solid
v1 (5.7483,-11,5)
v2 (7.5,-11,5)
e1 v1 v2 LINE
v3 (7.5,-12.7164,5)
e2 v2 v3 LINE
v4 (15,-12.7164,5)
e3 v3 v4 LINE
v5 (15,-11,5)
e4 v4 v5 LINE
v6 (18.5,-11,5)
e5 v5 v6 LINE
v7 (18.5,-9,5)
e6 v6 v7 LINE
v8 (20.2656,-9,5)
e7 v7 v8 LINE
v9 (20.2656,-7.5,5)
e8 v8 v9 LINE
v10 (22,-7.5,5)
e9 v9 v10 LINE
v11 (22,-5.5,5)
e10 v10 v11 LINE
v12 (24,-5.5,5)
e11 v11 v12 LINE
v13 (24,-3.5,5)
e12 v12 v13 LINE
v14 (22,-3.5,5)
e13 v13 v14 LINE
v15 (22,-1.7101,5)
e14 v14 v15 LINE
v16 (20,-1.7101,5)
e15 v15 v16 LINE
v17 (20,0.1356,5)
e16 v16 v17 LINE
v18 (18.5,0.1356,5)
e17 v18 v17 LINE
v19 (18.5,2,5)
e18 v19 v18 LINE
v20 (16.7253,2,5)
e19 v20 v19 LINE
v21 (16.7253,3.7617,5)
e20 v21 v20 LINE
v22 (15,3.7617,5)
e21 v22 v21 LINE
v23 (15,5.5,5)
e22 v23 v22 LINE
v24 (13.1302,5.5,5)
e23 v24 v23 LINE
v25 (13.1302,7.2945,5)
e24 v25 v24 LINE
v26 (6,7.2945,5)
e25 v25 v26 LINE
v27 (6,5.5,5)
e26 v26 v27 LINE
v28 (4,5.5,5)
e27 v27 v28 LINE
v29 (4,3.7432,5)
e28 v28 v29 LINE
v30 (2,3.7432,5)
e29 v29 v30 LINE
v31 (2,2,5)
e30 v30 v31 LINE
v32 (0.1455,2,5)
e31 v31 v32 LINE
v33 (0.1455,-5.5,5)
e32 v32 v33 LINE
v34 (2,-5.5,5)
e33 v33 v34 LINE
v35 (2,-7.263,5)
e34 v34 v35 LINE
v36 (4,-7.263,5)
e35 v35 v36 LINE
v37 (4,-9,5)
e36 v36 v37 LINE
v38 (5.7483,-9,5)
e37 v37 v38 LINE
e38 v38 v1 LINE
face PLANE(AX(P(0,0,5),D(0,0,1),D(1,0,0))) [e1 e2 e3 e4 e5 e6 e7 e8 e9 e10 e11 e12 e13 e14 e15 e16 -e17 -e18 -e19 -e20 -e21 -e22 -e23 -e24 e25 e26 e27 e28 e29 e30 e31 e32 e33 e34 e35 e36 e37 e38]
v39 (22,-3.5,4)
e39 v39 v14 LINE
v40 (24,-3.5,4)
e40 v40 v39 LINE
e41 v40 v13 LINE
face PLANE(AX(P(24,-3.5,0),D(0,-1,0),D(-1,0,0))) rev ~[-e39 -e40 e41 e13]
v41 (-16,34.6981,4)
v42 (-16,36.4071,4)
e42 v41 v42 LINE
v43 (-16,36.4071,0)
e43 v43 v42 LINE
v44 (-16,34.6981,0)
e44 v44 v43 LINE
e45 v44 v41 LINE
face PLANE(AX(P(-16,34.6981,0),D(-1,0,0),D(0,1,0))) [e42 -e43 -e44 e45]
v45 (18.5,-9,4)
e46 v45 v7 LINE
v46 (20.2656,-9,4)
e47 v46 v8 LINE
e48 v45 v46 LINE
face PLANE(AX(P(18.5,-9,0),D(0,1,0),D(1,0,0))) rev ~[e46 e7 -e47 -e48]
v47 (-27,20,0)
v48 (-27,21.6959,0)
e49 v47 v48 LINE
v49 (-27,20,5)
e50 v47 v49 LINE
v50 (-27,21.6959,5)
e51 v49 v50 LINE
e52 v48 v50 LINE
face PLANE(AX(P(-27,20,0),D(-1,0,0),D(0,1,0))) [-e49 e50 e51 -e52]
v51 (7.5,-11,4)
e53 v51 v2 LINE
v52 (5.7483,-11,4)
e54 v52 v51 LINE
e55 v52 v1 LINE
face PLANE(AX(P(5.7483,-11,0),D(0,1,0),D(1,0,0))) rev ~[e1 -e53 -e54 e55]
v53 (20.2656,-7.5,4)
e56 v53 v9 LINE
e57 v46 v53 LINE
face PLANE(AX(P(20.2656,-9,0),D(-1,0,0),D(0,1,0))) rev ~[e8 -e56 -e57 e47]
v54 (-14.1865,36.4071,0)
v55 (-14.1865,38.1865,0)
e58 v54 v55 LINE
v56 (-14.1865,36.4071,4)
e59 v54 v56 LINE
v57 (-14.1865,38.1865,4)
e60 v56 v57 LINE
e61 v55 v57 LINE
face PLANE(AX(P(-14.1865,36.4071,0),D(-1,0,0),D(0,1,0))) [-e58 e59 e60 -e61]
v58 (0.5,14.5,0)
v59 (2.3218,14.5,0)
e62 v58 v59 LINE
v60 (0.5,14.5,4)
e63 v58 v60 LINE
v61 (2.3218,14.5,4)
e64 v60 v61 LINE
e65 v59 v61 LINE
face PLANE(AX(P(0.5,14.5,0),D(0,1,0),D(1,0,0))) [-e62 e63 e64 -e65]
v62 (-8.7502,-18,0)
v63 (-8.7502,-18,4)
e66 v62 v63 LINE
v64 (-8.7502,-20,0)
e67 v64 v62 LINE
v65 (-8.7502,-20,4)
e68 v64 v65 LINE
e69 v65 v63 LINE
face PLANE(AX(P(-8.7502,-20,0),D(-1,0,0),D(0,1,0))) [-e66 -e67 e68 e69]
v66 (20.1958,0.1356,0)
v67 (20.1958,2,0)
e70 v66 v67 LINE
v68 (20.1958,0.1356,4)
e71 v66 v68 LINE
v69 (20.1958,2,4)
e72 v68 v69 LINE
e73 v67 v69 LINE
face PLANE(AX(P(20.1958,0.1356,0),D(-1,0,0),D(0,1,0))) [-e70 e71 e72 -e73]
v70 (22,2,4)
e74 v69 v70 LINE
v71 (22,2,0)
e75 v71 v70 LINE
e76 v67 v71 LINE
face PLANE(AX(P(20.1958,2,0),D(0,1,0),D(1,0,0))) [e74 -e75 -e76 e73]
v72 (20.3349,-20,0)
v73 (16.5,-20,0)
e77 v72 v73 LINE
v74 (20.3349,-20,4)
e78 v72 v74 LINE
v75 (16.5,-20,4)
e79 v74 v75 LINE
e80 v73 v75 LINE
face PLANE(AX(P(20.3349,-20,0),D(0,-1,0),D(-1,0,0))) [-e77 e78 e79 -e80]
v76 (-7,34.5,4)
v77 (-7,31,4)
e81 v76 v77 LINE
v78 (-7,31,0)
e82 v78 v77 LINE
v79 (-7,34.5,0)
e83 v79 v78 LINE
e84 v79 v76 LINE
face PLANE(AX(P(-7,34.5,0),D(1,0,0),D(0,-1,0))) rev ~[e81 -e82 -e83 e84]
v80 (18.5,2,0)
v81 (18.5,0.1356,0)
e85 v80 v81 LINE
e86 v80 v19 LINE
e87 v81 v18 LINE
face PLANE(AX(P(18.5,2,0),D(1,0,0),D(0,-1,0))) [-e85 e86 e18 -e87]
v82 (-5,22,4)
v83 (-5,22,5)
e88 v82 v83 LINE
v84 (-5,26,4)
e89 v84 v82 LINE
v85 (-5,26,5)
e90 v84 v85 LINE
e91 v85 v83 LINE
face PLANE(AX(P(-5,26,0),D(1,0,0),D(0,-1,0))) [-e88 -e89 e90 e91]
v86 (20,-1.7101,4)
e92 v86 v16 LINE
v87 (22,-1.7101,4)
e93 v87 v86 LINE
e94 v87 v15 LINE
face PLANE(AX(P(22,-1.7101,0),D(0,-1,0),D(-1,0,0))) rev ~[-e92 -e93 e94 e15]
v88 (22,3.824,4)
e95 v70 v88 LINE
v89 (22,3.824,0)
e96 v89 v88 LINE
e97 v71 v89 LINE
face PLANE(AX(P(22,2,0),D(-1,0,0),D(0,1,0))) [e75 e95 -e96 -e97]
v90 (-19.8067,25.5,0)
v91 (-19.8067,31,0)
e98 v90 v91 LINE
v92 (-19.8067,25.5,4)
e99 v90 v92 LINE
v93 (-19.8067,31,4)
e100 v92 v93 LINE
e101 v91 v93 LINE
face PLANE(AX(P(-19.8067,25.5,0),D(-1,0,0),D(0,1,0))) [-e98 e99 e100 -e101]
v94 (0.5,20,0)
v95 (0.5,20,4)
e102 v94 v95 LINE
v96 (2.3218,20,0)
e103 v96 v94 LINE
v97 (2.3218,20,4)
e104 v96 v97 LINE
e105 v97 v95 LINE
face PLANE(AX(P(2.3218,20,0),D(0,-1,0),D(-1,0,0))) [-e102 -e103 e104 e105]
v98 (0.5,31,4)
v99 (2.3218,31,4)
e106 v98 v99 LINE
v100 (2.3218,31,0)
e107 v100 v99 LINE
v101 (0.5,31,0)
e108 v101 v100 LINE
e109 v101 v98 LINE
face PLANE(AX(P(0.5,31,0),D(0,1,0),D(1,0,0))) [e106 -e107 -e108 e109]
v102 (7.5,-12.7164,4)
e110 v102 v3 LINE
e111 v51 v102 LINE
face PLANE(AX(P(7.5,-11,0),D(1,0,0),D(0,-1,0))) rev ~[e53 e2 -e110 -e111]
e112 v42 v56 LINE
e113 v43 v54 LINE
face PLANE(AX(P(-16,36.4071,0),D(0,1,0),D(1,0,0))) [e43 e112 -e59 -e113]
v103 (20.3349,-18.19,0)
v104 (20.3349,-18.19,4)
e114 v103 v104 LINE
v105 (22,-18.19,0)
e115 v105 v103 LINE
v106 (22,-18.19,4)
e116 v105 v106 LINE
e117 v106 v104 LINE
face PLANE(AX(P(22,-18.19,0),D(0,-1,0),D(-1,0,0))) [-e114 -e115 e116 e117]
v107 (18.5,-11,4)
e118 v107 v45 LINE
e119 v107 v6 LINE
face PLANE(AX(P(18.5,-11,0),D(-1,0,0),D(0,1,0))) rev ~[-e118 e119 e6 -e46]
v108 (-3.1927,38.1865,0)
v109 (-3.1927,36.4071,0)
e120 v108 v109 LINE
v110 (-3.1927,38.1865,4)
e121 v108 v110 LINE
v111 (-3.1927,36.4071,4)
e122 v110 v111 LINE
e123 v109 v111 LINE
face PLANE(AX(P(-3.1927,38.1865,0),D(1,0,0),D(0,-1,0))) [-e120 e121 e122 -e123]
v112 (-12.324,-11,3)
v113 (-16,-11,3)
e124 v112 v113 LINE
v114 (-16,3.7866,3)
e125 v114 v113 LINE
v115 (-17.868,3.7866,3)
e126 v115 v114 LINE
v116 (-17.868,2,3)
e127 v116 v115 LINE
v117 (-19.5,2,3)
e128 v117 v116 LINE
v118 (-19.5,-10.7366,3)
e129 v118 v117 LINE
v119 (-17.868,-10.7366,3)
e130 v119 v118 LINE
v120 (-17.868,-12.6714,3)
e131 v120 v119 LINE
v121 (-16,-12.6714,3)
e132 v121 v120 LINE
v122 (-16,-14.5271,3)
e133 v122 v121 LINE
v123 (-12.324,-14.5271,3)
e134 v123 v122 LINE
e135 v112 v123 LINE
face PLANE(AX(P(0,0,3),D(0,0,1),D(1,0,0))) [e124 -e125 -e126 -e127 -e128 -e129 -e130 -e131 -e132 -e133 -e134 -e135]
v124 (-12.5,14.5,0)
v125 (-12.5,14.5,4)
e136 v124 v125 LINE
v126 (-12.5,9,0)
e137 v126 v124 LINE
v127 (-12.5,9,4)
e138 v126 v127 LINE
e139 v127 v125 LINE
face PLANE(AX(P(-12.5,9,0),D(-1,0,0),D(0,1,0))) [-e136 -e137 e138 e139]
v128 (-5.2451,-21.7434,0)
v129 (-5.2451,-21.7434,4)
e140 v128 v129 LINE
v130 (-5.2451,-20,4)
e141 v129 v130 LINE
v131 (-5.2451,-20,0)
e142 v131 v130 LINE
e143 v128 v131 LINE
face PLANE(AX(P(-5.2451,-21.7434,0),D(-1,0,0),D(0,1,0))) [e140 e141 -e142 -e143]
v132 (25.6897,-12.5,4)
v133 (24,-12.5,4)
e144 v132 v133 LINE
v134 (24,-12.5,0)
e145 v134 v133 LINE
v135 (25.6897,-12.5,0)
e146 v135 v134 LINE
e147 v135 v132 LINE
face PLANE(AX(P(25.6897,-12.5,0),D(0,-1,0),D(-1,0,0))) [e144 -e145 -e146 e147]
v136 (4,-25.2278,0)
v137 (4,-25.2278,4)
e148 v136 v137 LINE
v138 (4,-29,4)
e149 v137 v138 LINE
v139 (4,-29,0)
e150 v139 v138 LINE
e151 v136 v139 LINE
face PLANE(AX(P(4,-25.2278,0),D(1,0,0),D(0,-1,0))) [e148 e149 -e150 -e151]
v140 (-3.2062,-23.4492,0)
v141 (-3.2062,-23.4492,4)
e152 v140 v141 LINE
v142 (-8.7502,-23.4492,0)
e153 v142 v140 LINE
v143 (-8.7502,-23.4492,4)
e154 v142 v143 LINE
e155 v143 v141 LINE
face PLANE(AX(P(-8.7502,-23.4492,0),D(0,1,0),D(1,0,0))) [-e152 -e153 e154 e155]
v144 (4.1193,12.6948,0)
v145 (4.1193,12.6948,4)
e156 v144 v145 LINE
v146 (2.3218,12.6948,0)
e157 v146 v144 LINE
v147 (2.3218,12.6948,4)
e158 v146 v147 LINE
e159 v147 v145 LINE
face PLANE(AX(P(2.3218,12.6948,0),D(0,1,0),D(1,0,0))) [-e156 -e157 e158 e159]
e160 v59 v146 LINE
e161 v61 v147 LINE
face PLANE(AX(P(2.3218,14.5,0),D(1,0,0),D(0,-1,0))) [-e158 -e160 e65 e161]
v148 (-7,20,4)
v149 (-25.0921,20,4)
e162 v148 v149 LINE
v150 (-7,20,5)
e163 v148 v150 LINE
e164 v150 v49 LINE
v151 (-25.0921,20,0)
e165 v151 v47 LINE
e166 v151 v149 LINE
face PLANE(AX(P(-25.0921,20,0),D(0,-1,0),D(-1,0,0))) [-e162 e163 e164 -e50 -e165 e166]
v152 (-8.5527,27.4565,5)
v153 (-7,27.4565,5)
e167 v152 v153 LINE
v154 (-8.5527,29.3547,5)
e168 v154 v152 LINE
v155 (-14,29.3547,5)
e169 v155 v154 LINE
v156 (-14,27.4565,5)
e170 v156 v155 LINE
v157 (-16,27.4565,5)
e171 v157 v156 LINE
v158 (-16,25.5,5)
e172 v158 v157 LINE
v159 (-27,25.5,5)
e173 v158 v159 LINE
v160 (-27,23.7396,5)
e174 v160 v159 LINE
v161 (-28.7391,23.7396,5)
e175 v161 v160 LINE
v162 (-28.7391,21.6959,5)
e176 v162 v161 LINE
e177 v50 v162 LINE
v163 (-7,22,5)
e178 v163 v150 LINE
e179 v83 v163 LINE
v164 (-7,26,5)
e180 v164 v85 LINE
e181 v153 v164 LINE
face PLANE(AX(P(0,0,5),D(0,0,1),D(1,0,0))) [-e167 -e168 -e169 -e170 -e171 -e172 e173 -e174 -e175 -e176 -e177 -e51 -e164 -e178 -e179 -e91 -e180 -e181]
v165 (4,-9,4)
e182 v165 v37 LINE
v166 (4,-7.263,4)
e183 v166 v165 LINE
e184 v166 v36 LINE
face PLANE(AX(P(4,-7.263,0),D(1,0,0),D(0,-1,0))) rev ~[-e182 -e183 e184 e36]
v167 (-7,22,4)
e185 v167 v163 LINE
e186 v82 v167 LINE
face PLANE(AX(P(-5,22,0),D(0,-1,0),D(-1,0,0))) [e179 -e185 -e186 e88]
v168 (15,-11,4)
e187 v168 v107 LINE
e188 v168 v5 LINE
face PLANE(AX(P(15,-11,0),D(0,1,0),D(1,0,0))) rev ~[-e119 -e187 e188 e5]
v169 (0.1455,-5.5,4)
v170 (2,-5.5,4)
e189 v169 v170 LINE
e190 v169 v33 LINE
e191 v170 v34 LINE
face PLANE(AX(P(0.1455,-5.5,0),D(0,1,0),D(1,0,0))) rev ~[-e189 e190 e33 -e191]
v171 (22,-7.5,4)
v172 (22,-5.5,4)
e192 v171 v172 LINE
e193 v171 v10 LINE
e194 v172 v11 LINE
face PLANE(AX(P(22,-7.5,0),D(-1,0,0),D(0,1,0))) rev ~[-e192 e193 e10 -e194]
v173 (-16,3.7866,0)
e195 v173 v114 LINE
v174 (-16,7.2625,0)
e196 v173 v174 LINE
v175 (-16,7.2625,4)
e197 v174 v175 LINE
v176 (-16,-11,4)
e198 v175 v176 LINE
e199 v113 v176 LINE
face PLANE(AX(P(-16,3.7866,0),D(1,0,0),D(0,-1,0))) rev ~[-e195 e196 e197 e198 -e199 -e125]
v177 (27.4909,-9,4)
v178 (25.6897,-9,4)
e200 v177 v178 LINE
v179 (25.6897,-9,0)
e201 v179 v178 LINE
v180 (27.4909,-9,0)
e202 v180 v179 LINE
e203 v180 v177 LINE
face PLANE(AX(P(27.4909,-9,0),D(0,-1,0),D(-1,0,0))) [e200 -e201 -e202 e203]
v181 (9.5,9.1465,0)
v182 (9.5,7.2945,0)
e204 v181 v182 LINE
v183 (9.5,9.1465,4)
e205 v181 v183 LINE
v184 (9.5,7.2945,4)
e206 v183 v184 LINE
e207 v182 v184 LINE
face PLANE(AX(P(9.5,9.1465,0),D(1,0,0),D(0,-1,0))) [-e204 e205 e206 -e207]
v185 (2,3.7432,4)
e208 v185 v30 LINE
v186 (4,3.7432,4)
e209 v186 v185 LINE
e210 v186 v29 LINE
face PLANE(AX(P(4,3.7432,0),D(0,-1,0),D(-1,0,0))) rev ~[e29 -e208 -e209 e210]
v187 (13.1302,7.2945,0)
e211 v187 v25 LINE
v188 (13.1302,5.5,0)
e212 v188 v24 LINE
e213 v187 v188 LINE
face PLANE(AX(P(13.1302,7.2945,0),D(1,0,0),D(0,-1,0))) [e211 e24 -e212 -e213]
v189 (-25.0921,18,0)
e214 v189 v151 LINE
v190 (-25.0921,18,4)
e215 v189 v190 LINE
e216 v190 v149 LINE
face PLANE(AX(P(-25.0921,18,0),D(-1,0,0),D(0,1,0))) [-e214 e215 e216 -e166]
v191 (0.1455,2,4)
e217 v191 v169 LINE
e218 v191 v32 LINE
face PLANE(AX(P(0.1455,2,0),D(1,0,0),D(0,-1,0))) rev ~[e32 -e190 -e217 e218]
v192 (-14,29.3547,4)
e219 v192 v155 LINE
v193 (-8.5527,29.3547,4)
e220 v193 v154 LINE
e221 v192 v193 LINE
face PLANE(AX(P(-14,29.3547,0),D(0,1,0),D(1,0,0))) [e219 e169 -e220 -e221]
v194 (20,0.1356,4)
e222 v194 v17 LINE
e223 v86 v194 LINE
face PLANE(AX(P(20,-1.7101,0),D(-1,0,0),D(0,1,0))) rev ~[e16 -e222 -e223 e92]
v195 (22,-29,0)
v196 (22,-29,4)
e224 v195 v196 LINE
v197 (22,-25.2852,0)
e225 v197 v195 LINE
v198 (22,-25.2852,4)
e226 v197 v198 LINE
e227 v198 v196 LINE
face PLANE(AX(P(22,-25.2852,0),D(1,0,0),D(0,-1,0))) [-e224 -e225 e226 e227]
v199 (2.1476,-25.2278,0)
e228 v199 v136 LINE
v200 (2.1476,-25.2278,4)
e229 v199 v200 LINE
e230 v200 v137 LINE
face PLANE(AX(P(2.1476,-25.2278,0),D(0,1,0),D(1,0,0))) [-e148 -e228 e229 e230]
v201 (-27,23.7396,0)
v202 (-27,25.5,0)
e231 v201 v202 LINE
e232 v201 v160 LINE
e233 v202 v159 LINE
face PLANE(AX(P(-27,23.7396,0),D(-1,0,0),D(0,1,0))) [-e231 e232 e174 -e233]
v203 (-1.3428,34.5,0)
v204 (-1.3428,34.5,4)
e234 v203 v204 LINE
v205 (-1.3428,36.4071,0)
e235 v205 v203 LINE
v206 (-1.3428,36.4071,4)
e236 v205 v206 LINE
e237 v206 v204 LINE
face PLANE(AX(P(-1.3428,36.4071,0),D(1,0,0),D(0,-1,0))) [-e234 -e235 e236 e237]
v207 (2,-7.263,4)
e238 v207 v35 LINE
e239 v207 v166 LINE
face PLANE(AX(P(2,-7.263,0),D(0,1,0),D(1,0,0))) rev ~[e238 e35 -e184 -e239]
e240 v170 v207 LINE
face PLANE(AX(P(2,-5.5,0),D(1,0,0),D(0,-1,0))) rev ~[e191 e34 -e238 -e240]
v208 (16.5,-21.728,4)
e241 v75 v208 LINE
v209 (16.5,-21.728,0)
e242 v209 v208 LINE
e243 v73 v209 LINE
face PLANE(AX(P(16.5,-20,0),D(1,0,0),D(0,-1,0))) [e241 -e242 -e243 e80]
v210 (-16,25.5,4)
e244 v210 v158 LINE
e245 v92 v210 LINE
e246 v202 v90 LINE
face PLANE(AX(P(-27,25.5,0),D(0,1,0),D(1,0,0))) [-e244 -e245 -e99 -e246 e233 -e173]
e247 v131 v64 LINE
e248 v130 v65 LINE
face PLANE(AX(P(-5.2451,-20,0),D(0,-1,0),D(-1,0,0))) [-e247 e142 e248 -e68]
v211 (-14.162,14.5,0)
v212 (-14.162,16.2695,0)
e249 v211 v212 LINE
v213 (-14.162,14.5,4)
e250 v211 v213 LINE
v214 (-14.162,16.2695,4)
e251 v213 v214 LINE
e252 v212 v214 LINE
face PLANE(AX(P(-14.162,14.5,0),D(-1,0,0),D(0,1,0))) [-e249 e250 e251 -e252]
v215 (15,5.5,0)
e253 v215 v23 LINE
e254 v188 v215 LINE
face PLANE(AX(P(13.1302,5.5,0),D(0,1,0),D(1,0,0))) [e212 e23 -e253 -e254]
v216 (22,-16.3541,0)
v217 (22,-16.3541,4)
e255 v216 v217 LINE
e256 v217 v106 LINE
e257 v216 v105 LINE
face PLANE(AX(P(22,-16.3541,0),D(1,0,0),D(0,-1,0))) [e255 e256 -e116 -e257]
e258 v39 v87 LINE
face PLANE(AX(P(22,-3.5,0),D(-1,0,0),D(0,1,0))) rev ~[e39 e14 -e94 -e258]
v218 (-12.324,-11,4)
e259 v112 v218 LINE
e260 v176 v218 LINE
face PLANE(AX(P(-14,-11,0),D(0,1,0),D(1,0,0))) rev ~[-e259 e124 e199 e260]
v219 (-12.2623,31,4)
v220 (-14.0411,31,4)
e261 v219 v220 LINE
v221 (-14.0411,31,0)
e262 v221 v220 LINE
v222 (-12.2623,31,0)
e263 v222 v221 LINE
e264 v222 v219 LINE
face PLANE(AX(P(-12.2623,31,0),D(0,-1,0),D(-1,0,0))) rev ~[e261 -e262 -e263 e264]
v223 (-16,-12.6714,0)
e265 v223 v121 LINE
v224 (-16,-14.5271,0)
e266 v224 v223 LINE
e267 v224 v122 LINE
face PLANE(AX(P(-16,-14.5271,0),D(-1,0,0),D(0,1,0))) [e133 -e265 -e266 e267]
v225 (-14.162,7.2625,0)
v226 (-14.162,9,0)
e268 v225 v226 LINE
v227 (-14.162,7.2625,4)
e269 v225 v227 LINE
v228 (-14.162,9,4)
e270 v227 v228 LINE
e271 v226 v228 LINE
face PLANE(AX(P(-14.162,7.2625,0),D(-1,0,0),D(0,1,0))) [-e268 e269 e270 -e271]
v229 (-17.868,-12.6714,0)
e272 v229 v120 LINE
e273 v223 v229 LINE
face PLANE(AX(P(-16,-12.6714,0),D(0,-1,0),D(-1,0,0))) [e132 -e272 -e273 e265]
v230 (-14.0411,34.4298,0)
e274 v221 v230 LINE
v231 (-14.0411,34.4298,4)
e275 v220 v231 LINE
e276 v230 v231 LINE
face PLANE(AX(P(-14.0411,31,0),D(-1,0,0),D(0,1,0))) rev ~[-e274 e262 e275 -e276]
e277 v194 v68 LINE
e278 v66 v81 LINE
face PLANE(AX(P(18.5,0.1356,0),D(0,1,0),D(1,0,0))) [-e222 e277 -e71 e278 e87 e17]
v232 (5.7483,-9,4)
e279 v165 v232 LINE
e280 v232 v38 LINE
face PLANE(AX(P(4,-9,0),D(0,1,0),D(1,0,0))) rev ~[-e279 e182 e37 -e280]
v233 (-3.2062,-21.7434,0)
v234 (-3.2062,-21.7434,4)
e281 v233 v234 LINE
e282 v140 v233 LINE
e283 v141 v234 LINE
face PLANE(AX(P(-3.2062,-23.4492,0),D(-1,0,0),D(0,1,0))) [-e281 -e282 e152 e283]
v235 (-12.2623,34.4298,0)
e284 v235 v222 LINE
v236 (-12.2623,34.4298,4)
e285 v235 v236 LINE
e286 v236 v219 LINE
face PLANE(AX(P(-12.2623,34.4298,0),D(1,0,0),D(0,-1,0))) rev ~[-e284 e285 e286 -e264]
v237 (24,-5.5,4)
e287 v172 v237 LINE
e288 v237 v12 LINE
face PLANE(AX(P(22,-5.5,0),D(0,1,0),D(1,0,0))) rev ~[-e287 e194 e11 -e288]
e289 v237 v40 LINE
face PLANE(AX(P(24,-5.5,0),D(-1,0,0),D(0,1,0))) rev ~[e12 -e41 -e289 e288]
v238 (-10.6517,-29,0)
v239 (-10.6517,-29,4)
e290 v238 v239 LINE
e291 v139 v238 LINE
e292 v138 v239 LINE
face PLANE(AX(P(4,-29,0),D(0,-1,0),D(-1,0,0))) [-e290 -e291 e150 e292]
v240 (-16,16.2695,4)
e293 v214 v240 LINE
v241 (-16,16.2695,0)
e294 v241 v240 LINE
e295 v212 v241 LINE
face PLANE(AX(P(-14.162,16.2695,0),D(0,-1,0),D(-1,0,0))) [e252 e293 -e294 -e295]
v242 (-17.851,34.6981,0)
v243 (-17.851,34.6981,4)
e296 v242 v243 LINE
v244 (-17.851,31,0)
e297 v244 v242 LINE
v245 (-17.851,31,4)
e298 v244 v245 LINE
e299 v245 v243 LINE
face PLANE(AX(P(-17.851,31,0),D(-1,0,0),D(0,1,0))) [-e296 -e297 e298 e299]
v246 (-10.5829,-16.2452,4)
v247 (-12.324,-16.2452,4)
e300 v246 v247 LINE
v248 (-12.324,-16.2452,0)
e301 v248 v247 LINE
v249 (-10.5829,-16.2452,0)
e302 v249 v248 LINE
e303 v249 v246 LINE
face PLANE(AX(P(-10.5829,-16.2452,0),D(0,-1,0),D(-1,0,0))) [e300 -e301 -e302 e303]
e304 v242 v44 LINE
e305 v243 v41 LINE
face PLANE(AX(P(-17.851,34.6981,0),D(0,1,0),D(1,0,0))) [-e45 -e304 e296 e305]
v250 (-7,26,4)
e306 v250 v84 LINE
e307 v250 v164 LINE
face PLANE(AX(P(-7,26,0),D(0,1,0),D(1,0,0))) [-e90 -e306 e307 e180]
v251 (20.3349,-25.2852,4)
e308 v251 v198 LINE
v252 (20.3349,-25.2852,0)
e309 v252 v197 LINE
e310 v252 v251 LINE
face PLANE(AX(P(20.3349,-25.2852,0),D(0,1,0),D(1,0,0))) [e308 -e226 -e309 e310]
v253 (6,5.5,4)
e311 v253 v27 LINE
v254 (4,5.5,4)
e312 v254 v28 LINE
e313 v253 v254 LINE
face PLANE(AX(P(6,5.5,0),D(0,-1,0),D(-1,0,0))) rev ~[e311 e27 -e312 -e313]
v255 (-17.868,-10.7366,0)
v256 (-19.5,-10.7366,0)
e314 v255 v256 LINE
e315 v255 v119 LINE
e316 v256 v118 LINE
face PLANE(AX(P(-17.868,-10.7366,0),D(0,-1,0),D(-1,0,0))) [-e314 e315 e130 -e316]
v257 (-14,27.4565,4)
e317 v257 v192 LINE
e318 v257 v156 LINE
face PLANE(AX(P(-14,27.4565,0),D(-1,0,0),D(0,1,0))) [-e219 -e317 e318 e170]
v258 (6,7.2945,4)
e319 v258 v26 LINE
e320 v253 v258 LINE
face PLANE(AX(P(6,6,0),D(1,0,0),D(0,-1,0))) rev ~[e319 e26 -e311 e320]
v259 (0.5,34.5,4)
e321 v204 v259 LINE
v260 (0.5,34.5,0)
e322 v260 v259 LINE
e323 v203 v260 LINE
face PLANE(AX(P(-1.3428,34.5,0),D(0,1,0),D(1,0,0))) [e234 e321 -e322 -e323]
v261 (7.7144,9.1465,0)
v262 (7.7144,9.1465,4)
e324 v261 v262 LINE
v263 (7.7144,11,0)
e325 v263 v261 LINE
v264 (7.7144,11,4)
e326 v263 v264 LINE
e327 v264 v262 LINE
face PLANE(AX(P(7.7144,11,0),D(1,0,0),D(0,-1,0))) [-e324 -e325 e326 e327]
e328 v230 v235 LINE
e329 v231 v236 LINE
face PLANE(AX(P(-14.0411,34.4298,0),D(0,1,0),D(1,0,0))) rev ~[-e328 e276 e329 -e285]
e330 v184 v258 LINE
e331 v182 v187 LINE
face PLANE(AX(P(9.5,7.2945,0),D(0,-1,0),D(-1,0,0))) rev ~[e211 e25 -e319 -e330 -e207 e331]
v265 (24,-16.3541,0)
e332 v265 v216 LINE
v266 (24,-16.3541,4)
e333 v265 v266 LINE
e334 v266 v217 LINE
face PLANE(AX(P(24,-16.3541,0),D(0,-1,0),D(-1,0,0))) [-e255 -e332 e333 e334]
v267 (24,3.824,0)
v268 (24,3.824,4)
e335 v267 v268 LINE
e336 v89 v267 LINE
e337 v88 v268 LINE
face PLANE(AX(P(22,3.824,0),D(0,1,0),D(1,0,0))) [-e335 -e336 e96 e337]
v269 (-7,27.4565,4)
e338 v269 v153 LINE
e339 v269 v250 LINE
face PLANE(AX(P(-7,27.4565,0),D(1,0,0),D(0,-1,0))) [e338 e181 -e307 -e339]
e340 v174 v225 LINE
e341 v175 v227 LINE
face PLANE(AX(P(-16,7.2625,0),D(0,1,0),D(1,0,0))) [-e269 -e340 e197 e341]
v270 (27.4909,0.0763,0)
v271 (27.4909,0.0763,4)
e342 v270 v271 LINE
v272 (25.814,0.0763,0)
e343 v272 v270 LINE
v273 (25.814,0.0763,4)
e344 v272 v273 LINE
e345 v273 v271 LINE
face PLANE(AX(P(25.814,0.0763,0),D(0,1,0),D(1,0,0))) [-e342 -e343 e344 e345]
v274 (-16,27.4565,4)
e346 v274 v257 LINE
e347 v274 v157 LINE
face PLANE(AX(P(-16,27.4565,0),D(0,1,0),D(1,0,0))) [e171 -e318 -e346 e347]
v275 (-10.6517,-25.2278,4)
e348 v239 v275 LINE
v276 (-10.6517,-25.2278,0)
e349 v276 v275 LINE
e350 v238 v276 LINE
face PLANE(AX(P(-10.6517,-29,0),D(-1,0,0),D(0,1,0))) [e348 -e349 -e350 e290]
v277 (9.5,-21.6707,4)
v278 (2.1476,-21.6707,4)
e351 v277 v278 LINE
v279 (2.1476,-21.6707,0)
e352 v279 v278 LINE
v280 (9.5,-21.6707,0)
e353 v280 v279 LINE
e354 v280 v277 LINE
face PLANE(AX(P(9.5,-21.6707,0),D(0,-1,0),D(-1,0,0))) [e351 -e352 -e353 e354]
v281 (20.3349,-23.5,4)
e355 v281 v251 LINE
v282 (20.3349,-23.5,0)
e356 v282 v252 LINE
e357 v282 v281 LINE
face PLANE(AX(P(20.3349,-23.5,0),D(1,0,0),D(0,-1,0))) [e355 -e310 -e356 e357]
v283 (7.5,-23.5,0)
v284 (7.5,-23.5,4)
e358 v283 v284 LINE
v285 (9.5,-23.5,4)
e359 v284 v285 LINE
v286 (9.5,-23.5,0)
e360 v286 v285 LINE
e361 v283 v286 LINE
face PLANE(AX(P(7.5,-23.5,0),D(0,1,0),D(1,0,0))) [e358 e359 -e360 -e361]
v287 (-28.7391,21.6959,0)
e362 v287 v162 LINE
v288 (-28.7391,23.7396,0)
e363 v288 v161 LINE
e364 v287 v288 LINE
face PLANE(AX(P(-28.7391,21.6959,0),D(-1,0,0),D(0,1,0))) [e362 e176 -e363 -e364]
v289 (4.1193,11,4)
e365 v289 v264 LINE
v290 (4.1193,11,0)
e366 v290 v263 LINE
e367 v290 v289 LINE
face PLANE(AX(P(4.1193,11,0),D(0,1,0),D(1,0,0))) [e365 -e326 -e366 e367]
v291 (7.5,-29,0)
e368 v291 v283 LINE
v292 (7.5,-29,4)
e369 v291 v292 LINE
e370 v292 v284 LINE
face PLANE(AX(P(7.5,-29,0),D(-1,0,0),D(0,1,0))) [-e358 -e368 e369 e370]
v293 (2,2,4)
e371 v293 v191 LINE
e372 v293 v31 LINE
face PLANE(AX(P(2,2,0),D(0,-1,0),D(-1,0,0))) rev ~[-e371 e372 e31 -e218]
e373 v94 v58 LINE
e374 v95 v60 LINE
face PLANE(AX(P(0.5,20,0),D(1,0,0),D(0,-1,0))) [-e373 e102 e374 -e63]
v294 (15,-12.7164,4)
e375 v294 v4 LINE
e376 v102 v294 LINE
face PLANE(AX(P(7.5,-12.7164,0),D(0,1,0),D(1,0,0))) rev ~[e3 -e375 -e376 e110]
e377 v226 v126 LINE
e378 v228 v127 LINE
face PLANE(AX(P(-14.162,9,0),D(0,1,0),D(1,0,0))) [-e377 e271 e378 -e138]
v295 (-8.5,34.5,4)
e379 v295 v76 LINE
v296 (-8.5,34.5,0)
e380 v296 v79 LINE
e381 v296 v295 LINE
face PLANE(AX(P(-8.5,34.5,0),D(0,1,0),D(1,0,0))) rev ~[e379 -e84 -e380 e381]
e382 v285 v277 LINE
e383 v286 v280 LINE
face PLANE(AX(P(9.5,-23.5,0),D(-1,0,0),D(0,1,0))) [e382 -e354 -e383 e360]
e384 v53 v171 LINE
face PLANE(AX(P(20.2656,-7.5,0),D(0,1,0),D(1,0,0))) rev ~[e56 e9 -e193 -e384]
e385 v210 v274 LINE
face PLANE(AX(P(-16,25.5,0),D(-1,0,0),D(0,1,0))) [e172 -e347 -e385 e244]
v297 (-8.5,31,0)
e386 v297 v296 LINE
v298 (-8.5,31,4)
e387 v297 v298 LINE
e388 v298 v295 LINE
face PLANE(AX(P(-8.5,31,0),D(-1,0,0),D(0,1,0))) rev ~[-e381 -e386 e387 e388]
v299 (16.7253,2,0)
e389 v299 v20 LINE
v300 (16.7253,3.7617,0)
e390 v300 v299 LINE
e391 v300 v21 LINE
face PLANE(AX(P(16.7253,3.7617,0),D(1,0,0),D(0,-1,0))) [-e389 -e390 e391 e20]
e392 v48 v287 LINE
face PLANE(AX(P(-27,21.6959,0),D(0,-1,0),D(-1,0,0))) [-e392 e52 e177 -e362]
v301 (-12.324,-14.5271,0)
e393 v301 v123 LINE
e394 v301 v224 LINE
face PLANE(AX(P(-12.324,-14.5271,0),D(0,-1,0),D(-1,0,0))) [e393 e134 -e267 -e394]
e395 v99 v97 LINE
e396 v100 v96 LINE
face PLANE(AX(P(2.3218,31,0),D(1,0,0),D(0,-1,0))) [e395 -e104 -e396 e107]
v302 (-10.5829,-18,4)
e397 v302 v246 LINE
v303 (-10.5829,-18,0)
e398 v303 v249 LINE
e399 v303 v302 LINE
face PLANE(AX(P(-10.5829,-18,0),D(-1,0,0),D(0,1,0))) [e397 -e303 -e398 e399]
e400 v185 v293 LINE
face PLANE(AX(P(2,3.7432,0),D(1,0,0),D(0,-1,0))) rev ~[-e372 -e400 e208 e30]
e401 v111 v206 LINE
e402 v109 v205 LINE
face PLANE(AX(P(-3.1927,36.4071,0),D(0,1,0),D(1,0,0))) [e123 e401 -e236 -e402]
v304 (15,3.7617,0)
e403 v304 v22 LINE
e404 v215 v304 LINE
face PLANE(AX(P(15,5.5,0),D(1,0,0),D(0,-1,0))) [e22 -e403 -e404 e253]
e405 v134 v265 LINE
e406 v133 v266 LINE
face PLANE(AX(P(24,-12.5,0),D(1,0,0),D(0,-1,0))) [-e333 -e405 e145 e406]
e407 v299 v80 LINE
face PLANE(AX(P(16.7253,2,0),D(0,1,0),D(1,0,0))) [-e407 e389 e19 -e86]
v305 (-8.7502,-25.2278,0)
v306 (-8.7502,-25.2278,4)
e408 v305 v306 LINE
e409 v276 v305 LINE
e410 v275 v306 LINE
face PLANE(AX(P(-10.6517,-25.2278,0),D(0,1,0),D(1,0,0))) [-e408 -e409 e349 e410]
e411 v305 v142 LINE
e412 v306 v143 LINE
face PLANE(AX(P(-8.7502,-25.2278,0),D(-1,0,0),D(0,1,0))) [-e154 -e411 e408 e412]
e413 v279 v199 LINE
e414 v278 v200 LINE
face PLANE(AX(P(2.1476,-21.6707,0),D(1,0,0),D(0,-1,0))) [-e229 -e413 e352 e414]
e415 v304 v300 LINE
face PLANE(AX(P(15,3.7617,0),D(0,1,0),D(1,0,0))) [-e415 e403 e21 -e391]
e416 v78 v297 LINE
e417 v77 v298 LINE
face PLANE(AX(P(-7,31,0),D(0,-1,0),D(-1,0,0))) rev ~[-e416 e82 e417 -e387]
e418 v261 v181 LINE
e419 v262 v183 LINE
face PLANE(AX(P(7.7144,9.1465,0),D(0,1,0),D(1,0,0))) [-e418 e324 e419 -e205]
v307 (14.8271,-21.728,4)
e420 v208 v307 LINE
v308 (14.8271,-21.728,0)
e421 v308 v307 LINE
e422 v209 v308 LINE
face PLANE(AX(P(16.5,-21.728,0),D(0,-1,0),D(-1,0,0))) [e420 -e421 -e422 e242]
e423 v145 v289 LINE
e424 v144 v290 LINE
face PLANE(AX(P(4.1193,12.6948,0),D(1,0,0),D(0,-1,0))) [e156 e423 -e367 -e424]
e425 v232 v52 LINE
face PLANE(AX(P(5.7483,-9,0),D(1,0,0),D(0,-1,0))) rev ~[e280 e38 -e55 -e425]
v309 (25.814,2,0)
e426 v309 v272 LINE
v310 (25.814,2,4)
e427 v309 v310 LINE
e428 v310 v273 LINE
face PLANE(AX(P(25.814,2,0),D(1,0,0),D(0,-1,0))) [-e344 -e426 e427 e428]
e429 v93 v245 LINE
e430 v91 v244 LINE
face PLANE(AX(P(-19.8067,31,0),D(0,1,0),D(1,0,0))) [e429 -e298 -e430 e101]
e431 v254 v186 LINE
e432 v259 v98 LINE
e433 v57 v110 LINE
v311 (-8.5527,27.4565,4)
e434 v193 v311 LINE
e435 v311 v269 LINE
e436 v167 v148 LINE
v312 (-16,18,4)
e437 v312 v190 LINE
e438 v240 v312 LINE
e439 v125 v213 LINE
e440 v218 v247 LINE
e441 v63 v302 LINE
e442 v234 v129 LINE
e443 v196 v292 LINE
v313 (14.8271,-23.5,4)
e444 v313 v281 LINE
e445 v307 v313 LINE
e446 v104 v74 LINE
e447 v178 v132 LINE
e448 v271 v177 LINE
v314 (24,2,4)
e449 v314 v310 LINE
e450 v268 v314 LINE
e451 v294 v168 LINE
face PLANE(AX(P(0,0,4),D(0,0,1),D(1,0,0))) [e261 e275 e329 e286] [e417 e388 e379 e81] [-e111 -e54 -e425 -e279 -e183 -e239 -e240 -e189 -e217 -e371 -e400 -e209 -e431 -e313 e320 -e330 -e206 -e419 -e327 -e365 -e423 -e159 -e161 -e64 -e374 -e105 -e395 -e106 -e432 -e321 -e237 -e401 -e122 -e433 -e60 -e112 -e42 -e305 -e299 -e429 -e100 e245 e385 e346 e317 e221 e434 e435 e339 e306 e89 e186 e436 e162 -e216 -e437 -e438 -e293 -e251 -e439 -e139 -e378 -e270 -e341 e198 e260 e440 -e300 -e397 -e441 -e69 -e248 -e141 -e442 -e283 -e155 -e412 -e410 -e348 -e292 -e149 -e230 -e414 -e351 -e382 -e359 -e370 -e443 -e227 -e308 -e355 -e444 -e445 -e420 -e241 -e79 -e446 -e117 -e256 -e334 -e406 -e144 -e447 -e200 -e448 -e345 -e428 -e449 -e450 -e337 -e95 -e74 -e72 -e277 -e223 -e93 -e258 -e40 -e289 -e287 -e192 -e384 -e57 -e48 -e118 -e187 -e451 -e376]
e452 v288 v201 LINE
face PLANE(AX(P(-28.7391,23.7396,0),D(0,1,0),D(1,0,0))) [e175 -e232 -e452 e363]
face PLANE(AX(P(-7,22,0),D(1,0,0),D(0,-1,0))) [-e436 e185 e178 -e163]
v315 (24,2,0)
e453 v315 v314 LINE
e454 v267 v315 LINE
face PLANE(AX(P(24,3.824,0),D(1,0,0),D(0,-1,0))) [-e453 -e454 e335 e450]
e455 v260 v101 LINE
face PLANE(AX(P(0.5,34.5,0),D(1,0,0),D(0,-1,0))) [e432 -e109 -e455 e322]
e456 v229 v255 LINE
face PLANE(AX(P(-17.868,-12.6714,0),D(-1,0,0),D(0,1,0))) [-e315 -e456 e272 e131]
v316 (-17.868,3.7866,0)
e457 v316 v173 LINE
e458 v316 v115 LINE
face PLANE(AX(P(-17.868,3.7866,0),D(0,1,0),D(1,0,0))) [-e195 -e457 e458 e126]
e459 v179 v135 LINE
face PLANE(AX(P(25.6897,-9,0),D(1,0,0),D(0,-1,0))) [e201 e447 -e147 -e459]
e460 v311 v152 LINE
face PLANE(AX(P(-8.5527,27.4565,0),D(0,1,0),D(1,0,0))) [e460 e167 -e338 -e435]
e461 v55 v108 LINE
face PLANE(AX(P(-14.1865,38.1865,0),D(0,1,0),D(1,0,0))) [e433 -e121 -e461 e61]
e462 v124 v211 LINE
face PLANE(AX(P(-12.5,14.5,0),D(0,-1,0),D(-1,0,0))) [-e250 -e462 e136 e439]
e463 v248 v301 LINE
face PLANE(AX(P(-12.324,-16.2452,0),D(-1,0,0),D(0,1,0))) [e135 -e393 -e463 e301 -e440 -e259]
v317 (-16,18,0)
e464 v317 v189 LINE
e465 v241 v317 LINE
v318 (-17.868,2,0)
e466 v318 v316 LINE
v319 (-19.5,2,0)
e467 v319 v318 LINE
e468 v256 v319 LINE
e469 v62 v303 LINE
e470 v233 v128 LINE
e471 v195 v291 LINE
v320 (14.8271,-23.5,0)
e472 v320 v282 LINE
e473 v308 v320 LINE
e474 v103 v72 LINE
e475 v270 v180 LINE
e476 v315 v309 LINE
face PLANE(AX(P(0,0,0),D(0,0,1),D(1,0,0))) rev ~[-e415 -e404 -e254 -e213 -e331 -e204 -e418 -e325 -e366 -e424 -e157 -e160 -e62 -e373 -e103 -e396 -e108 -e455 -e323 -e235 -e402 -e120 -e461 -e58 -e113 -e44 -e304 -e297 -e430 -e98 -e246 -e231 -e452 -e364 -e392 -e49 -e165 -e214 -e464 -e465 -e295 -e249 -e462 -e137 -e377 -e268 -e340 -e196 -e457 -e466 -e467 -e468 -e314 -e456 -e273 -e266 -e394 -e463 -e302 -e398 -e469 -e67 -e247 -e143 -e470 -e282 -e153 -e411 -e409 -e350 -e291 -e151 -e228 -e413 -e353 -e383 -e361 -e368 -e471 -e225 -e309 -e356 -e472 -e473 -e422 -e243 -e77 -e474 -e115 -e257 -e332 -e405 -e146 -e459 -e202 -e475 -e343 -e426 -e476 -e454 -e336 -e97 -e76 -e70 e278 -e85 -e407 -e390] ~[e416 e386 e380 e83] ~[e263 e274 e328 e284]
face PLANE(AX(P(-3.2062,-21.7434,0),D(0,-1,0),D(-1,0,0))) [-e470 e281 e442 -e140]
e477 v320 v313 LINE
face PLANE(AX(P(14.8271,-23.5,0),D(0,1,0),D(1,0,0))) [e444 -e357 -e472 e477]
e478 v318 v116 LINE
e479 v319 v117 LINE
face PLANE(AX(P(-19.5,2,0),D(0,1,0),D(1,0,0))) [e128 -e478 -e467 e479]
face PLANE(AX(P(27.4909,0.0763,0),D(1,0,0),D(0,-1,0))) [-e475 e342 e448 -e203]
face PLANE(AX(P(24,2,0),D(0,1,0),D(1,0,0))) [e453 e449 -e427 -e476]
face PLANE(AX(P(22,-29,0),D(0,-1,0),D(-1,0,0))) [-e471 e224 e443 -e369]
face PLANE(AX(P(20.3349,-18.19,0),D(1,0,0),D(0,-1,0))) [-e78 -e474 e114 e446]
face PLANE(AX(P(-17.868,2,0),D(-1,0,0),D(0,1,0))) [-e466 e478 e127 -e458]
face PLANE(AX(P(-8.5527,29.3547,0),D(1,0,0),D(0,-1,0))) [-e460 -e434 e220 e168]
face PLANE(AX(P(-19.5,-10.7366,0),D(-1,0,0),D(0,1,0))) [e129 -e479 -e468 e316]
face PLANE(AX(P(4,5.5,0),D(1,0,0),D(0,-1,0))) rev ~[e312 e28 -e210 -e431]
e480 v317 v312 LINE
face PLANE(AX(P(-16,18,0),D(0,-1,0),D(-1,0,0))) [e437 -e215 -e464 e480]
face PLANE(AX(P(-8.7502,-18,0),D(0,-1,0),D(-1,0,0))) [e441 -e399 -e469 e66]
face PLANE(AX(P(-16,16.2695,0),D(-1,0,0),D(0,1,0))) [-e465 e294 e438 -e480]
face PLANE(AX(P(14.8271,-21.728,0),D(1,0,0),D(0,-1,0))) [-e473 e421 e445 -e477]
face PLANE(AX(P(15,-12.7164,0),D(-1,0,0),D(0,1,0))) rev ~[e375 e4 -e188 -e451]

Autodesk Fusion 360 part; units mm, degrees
sketch "duck" plane through (0, 0, 0) normal (0, 0, 1) x (1, 0, 0)
  line L0 (27.4909, 0.0763) -> (27.4909, -9)
  line L1 (27.4909, -9) -> (25.6897, -9)
  line L2 (25.6897, -9) -> (25.6897, -12.5)
  line L3 (25.6897, -12.5) -> (24, -12.5)
  line L4 (24, -12.5) -> (24, -16.3541)
  line L5 (24, -16.3541) -> (22, -16.3541)
  line L6 (22, -16.3541) -> (22, -18.19)
  line L7 (22, -18.19) -> (20.3349, -18.19)
  line L8 (20.3349, -18.19) -> (20.3349, -20)
  line L9 (20.3349, -20) -> (16.5, -20)
  line L10 (16.5, -20) -> (16.5, -21.728)
  line L11 (16.5, -21.728) -> (14.8271, -21.728)
  line L12 (14.8271, -21.728) -> (14.8271, -23.5)
  line L13 (14.8271, -23.5) -> (20.3349, -23.5)
  line L14 (20.3349, -23.5) -> (20.3349, -25.2852)
  line L15 (20.3349, -25.2852) -> (22, -25.2852)
  line L16 (22, -25.2852) -> (22, -29)
  line L17 (22, -29) -> (7.5, -29)
  line L18 (7.5, -29) -> (7.5, -23.5)
  line L19 (7.5, -23.5) -> (9.5, -23.5)
  line L20 (9.5, -23.5) -> (9.5, -21.6707)
  line L21 (9.5, -21.6707) -> (2.1476, -21.6707)
  line L22 (2.1476, -21.6707) -> (2.1476, -25.2278)
  line L23 (2.1476, -25.2278) -> (4, -25.2278)
  line L24 (4, -25.2278) -> (4, -29)
  line L25 (4, -29) -> (-10.6517, -29)
  line L26 (-10.6517, -29) -> (-10.6517, -25.2278)
  line L27 (-10.6517, -25.2278) -> (-8.7502, -25.2278)
  line L28 (-8.7502, -25.2278) -> (-8.7502, -23.4492)
  line L29 (-8.7502, -23.4492) -> (-3.2062, -23.4492)
  line L30 (-3.2062, -23.4492) -> (-3.2062, -21.7434)
  line L31 (-3.2062, -21.7434) -> (-5.2451, -21.7434)
  line L32 (-5.2451, -21.7434) -> (-5.2451, -20)
  line L33 (-5.2451, -20) -> (-8.7502, -20)
  line L34 (-8.7502, -20) -> (-8.7502, -18)
  line L35 (-8.7502, -18) -> (-10.5829, -18)
  line L36 (-10.5829, -18) -> (-10.5829, -16.2452)
  line L37 (-10.5829, -16.2452) -> (-12.324, -16.2452)
  line L38 (-12.324, -16.2452) -> (-12.324, -14.5271)
  line L39 (-12.324, -14.5271) -> (-16, -14.5271)
  line L40 (-16, -14.5271) -> (-16, -12.6714)
  line L41 (-16, -12.6714) -> (-17.868, -12.6714)
  line L42 (-17.868, -12.6714) -> (-17.868, -10.7366)
  line L43 (-17.868, -10.7366) -> (-19.5, -10.7366)
  line L44 (-19.5, -10.7366) -> (-19.5, 2)
  line L45 (-19.5, 2) -> (-17.868, 2)
  line L46 (-17.868, 2) -> (-17.868, 3.7866)
  line L47 (-17.868, 3.7866) -> (-16, 3.7866)
  line L48 (-16, 3.7866) -> (-16, 7.2625)
  line L49 (-16, 7.2625) -> (-14.162, 7.2625)
  line L50 (-14.162, 7.2625) -> (-14.162, 9)
  line L51 (-14.162, 9) -> (-12.5, 9)
  line L52 (-12.5, 9) -> (-12.5, 14.5)
  line L53 (-12.5, 14.5) -> (-14.162, 14.5)
  line L54 (-14.162, 14.5) -> (-14.162, 16.2695)
  line L55 (-14.162, 16.2695) -> (-16, 16.2695)
  line L56 (-16, 16.2695) -> (-16, 18)
  line L57 (-16, 18) -> (-25.0921, 18)
  line L58 (-25.0921, 18) -> (-25.0921, 20)
  line L59 (-25.0921, 20) -> (-27, 20)
  line L60 (-27, 20) -> (-27, 21.6959)
  line L61 (-27, 21.6959) -> (-28.7391, 21.6959)
  line L62 (-28.7391, 21.6959) -> (-28.7391, 23.7396)
  line L63 (-28.7391, 23.7396) -> (-27, 23.7396)
  line L64 (-27, 23.7396) -> (-27, 25.5)
  line L65 (-27, 25.5) -> (-19.8067, 25.5)
  line L66 (-19.8067, 25.5) -> (-19.8067, 31)
  line L67 (-19.8067, 31) -> (-17.851, 31)
  line L68 (-17.851, 31) -> (-17.851, 34.6981)
  line L69 (-17.851, 34.6981) -> (-16, 34.6981)
  line L70 (-16, 34.6981) -> (-16, 36.4071)
  line L71 (-16, 36.4071) -> (-14.1865, 36.4071)
  line L72 (-14.1865, 36.4071) -> (-14.1865, 38.1865)
  line L73 (-14.1865, 38.1865) -> (-3.1927, 38.1865)
  line L74 (-3.1927, 38.1865) -> (-3.1927, 36.4071)
  line L75 (-3.1927, 36.4071) -> (-1.3428, 36.4071)
  line L76 (-1.3428, 36.4071) -> (-1.3428, 34.5)
  line L77 (-1.3428, 34.5) -> (0.5, 34.5)
  line L78 (0.5, 34.5) -> (0.5, 31)
  line L79 (0.5, 31) -> (2.3218, 31)
  line L80 (2.3218, 31) -> (2.3218, 20)
  line L81 (2.3218, 20) -> (0.5, 20)
  line L82 (0.5, 20) -> (0.5, 14.5)
  line L83 (0.5, 14.5) -> (2.3218, 14.5)
  line L84 (2.3218, 14.5) -> (2.3218, 12.6948)
  line L85 (2.3218, 12.6948) -> (4.1193, 12.6948)
  line L86 (4.1193, 12.6948) -> (4.1193, 11)
  line L87 (4.1193, 11) -> (7.7144, 11)
  line L88 (7.7144, 11) -> (7.7144, 9.1465)
  line L89 (7.7144, 9.1465) -> (9.5, 9.1465)
  line L90 (9.5, 9.1465) -> (9.5, 7.2945)
  line L91 (9.5, 7.2945) -> (13.1302, 7.2945)
  line L92 (13.1302, 7.2945) -> (13.1302, 5.5)
  line L93 (13.1302, 5.5) -> (15, 5.5)
  line L94 (15, 5.5) -> (15, 3.7617)
  line L95 (15, 3.7617) -> (16.7253, 3.7617)
  line L96 (16.7253, 3.7617) -> (16.7253, 2)
  line L97 (16.7253, 2) -> (18.5, 2)
  line L98 (18.5, 2) -> (18.5, 0.1356)
  line L99 (18.5, 0.1356) -> (20.1958, 0.1356)
  line L100 (20.1958, 0.1356) -> (20.1958, 2)
  line L101 (20.1958, 2) -> (22, 2)
  line L102 (22, 2) -> (22, 3.824)
  line L103 (22, 3.824) -> (24, 3.824)
  line L104 (24, 3.824) -> (24, 2)
  line L105 (24, 2) -> (25.814, 2)
  line L106 (25.814, 2) -> (25.814, 0.0763)
  line L107 (25.814, 0.0763) -> (27.4909, 0.0763)
  line L108 (-19.8067, 25.5) -> (-16, 25.5)
  line L109 (-16, 25.5) -> (-16, 27.4565)
  line L110 (-16, 27.4565) -> (-14, 27.4565)
  line L111 (-14, 27.4565) -> (-14, 29.3547)
  line L112 (-14, 29.3547) -> (-8.5527, 29.3547)
  line L113 (-8.5527, 29.3547) -> (-8.5527, 27.4565)
  line L114 (-8.5527, 27.4565) -> (-7, 27.4565)
  line L115 (-7, 27.4565) -> (-7, 26)
  line L116 (-7, 26) -> (-5, 26)
  line L117 (-5, 26) -> (-5, 22)
  line L118 (-5, 22) -> (-7, 22)
  line L119 (-7, 22) -> (-7, 20)
  line L120 (-7, 20) -> (-25.0921, 20)
  line L121 (-8.5, 34.5) -> (-7, 34.5)
  line L122 (-7, 34.5) -> (-7, 31)
  line L123 (-7, 31) -> (-8.5, 31)
  line L124 (-8.5, 31) -> (-8.5, 34.5)
  line L125 (-14.0411, 34.4298) -> (-12.2623, 34.4298)
  line L126 (-12.2623, 34.4298) -> (-12.2623, 31)
  line L127 (-12.2623, 31) -> (-14.0411, 31)
  line L128 (-14.0411, 31) -> (-14.0411, 34.4298)
  line L129 (-16, 3.7866) -> (-16, -11)
  line L130 (-16, -11) -> (-14, -11)
  line L131 (-14, -11) -> (-12.324, -11)
  line L132 (-12.324, -11) -> (-12.324, -14.5271)
  line L133 (-3.2062, -21.7434) -> (2.1476, -21.6707)
  line L134 (9.5, -21.6707) -> (14.8271, -21.728)
  line L135 (9.5, 7.2945) -> (6, 7.2945)
  line L136 (6, 7.2945) -> (6, 6)
  line L137 (6, 6) -> (6, 5.5)
  line L138 (6, 5.5) -> (4, 5.5)
  line L139 (4, 5.5) -> (4, 3.7432)
  line L140 (4, 3.7432) -> (2, 3.7432)
  line L141 (2, 3.7432) -> (2, 2)
  line L142 (2, 2) -> (0.1455, 2)
  line L143 (0.1455, 2) -> (0.1455, -5.5)
  line L144 (0.1455, -5.5) -> (2, -5.5)
  line L145 (2, -5.5) -> (2, -7.263)
  line L146 (2, -7.263) -> (4, -7.263)
  line L147 (4, -7.263) -> (4, -9)
  line L148 (4, -9) -> (5.7483, -9)
  line L149 (5.7483, -9) -> (5.7483, -11)
  line L150 (5.7483, -11) -> (7.5, -11)
  line L151 (7.5, -11) -> (7.5, -12.7164)
  line L152 (7.5, -12.7164) -> (15, -12.7164)
  line L153 (15, -12.7164) -> (15, -11)
  line L154 (15, -11) -> (18.5, -11)
  line L155 (18.5, -11) -> (18.5, -9)
  line L156 (18.5, -9) -> (20.2656, -9)
  line L157 (20.2656, -9) -> (20.2656, -7.5)
  line L158 (20.2656, -7.5) -> (22, -7.5)
  line L159 (22, -7.5) -> (22, -5.5)
  line L160 (22, -5.5) -> (24, -5.5)
  line L161 (24, -5.5) -> (24, -3.5)
  line L162 (24, -3.5) -> (22, -3.5)
  line L163 (22, -3.5) -> (22, -1.7101)
  line L164 (22, -1.7101) -> (20, -1.7101)
  line L165 (20, -1.7101) -> (20, 0.1356)
extrude "Extrude1" add sketch "duck" along normal blind 4 contours L0 L1 L2 L3 L4 L5 L6 L7 L8 L9 L10 L11 L21 L31 L32 L33 L34 L35 L36 L37 L38 L48 L49 L50 L51 L52 L53 L54 L55 L56 L57 L58 L66 L67 L68 L69 L70 L71 L72 L73 L74 L75 L76 L77 L78 L79 L80 L81 L82 L83 L84 L85 L86 L87 L88 L89 L90 L99 L100 L101 L102 L103 L104 L105 L106 L107 L108 L109 L110 L111 L112 L113 L114 L115 L116 L117 L118 L119 L120 L129 L130 L131 L132 L133 L134 L135 L136 L137 L138 L139 L140 L141 L142 L143 L144 L145 L146 L147 L148 L149 L150 L151 L152 L153 L154 L155 L156 L157 L158 L159 L160 L161 L162 L163 L164 L165 | L12 L13 L14 L15 L16 L17 L18 L19 L20 L134 | L22 L23 L24 L25 L26 L27 L28 L29 L30 L133
extrude "Extrude2" add sketch "duck" along normal blind 5 contours L91 L92 L93 L94 L95 L96 L97 L98 L99 L135 L136 L137 L138 L139 L140 L141 L142 L143 L144 L145 L146 L147 L148 L149 L150 L151 L152 L153 L154 L155 L156 L157 L158 L159 L160 L161 L162 L163 L164 L165
extrude "Extrude3" add sketch "duck" along normal blind 5 contours L59 L60 L61 L62 L63 L64 L65 L108 L109 L110 L111 L112 L113 L114 L115 L116 L117 L118 L119 L120
extrude "Extrude4" add sketch "duck" along normal blind 3 contours L39 L40 L41 L42 L43 L44 L45 L46 L47 L129 L130 L131 L132
